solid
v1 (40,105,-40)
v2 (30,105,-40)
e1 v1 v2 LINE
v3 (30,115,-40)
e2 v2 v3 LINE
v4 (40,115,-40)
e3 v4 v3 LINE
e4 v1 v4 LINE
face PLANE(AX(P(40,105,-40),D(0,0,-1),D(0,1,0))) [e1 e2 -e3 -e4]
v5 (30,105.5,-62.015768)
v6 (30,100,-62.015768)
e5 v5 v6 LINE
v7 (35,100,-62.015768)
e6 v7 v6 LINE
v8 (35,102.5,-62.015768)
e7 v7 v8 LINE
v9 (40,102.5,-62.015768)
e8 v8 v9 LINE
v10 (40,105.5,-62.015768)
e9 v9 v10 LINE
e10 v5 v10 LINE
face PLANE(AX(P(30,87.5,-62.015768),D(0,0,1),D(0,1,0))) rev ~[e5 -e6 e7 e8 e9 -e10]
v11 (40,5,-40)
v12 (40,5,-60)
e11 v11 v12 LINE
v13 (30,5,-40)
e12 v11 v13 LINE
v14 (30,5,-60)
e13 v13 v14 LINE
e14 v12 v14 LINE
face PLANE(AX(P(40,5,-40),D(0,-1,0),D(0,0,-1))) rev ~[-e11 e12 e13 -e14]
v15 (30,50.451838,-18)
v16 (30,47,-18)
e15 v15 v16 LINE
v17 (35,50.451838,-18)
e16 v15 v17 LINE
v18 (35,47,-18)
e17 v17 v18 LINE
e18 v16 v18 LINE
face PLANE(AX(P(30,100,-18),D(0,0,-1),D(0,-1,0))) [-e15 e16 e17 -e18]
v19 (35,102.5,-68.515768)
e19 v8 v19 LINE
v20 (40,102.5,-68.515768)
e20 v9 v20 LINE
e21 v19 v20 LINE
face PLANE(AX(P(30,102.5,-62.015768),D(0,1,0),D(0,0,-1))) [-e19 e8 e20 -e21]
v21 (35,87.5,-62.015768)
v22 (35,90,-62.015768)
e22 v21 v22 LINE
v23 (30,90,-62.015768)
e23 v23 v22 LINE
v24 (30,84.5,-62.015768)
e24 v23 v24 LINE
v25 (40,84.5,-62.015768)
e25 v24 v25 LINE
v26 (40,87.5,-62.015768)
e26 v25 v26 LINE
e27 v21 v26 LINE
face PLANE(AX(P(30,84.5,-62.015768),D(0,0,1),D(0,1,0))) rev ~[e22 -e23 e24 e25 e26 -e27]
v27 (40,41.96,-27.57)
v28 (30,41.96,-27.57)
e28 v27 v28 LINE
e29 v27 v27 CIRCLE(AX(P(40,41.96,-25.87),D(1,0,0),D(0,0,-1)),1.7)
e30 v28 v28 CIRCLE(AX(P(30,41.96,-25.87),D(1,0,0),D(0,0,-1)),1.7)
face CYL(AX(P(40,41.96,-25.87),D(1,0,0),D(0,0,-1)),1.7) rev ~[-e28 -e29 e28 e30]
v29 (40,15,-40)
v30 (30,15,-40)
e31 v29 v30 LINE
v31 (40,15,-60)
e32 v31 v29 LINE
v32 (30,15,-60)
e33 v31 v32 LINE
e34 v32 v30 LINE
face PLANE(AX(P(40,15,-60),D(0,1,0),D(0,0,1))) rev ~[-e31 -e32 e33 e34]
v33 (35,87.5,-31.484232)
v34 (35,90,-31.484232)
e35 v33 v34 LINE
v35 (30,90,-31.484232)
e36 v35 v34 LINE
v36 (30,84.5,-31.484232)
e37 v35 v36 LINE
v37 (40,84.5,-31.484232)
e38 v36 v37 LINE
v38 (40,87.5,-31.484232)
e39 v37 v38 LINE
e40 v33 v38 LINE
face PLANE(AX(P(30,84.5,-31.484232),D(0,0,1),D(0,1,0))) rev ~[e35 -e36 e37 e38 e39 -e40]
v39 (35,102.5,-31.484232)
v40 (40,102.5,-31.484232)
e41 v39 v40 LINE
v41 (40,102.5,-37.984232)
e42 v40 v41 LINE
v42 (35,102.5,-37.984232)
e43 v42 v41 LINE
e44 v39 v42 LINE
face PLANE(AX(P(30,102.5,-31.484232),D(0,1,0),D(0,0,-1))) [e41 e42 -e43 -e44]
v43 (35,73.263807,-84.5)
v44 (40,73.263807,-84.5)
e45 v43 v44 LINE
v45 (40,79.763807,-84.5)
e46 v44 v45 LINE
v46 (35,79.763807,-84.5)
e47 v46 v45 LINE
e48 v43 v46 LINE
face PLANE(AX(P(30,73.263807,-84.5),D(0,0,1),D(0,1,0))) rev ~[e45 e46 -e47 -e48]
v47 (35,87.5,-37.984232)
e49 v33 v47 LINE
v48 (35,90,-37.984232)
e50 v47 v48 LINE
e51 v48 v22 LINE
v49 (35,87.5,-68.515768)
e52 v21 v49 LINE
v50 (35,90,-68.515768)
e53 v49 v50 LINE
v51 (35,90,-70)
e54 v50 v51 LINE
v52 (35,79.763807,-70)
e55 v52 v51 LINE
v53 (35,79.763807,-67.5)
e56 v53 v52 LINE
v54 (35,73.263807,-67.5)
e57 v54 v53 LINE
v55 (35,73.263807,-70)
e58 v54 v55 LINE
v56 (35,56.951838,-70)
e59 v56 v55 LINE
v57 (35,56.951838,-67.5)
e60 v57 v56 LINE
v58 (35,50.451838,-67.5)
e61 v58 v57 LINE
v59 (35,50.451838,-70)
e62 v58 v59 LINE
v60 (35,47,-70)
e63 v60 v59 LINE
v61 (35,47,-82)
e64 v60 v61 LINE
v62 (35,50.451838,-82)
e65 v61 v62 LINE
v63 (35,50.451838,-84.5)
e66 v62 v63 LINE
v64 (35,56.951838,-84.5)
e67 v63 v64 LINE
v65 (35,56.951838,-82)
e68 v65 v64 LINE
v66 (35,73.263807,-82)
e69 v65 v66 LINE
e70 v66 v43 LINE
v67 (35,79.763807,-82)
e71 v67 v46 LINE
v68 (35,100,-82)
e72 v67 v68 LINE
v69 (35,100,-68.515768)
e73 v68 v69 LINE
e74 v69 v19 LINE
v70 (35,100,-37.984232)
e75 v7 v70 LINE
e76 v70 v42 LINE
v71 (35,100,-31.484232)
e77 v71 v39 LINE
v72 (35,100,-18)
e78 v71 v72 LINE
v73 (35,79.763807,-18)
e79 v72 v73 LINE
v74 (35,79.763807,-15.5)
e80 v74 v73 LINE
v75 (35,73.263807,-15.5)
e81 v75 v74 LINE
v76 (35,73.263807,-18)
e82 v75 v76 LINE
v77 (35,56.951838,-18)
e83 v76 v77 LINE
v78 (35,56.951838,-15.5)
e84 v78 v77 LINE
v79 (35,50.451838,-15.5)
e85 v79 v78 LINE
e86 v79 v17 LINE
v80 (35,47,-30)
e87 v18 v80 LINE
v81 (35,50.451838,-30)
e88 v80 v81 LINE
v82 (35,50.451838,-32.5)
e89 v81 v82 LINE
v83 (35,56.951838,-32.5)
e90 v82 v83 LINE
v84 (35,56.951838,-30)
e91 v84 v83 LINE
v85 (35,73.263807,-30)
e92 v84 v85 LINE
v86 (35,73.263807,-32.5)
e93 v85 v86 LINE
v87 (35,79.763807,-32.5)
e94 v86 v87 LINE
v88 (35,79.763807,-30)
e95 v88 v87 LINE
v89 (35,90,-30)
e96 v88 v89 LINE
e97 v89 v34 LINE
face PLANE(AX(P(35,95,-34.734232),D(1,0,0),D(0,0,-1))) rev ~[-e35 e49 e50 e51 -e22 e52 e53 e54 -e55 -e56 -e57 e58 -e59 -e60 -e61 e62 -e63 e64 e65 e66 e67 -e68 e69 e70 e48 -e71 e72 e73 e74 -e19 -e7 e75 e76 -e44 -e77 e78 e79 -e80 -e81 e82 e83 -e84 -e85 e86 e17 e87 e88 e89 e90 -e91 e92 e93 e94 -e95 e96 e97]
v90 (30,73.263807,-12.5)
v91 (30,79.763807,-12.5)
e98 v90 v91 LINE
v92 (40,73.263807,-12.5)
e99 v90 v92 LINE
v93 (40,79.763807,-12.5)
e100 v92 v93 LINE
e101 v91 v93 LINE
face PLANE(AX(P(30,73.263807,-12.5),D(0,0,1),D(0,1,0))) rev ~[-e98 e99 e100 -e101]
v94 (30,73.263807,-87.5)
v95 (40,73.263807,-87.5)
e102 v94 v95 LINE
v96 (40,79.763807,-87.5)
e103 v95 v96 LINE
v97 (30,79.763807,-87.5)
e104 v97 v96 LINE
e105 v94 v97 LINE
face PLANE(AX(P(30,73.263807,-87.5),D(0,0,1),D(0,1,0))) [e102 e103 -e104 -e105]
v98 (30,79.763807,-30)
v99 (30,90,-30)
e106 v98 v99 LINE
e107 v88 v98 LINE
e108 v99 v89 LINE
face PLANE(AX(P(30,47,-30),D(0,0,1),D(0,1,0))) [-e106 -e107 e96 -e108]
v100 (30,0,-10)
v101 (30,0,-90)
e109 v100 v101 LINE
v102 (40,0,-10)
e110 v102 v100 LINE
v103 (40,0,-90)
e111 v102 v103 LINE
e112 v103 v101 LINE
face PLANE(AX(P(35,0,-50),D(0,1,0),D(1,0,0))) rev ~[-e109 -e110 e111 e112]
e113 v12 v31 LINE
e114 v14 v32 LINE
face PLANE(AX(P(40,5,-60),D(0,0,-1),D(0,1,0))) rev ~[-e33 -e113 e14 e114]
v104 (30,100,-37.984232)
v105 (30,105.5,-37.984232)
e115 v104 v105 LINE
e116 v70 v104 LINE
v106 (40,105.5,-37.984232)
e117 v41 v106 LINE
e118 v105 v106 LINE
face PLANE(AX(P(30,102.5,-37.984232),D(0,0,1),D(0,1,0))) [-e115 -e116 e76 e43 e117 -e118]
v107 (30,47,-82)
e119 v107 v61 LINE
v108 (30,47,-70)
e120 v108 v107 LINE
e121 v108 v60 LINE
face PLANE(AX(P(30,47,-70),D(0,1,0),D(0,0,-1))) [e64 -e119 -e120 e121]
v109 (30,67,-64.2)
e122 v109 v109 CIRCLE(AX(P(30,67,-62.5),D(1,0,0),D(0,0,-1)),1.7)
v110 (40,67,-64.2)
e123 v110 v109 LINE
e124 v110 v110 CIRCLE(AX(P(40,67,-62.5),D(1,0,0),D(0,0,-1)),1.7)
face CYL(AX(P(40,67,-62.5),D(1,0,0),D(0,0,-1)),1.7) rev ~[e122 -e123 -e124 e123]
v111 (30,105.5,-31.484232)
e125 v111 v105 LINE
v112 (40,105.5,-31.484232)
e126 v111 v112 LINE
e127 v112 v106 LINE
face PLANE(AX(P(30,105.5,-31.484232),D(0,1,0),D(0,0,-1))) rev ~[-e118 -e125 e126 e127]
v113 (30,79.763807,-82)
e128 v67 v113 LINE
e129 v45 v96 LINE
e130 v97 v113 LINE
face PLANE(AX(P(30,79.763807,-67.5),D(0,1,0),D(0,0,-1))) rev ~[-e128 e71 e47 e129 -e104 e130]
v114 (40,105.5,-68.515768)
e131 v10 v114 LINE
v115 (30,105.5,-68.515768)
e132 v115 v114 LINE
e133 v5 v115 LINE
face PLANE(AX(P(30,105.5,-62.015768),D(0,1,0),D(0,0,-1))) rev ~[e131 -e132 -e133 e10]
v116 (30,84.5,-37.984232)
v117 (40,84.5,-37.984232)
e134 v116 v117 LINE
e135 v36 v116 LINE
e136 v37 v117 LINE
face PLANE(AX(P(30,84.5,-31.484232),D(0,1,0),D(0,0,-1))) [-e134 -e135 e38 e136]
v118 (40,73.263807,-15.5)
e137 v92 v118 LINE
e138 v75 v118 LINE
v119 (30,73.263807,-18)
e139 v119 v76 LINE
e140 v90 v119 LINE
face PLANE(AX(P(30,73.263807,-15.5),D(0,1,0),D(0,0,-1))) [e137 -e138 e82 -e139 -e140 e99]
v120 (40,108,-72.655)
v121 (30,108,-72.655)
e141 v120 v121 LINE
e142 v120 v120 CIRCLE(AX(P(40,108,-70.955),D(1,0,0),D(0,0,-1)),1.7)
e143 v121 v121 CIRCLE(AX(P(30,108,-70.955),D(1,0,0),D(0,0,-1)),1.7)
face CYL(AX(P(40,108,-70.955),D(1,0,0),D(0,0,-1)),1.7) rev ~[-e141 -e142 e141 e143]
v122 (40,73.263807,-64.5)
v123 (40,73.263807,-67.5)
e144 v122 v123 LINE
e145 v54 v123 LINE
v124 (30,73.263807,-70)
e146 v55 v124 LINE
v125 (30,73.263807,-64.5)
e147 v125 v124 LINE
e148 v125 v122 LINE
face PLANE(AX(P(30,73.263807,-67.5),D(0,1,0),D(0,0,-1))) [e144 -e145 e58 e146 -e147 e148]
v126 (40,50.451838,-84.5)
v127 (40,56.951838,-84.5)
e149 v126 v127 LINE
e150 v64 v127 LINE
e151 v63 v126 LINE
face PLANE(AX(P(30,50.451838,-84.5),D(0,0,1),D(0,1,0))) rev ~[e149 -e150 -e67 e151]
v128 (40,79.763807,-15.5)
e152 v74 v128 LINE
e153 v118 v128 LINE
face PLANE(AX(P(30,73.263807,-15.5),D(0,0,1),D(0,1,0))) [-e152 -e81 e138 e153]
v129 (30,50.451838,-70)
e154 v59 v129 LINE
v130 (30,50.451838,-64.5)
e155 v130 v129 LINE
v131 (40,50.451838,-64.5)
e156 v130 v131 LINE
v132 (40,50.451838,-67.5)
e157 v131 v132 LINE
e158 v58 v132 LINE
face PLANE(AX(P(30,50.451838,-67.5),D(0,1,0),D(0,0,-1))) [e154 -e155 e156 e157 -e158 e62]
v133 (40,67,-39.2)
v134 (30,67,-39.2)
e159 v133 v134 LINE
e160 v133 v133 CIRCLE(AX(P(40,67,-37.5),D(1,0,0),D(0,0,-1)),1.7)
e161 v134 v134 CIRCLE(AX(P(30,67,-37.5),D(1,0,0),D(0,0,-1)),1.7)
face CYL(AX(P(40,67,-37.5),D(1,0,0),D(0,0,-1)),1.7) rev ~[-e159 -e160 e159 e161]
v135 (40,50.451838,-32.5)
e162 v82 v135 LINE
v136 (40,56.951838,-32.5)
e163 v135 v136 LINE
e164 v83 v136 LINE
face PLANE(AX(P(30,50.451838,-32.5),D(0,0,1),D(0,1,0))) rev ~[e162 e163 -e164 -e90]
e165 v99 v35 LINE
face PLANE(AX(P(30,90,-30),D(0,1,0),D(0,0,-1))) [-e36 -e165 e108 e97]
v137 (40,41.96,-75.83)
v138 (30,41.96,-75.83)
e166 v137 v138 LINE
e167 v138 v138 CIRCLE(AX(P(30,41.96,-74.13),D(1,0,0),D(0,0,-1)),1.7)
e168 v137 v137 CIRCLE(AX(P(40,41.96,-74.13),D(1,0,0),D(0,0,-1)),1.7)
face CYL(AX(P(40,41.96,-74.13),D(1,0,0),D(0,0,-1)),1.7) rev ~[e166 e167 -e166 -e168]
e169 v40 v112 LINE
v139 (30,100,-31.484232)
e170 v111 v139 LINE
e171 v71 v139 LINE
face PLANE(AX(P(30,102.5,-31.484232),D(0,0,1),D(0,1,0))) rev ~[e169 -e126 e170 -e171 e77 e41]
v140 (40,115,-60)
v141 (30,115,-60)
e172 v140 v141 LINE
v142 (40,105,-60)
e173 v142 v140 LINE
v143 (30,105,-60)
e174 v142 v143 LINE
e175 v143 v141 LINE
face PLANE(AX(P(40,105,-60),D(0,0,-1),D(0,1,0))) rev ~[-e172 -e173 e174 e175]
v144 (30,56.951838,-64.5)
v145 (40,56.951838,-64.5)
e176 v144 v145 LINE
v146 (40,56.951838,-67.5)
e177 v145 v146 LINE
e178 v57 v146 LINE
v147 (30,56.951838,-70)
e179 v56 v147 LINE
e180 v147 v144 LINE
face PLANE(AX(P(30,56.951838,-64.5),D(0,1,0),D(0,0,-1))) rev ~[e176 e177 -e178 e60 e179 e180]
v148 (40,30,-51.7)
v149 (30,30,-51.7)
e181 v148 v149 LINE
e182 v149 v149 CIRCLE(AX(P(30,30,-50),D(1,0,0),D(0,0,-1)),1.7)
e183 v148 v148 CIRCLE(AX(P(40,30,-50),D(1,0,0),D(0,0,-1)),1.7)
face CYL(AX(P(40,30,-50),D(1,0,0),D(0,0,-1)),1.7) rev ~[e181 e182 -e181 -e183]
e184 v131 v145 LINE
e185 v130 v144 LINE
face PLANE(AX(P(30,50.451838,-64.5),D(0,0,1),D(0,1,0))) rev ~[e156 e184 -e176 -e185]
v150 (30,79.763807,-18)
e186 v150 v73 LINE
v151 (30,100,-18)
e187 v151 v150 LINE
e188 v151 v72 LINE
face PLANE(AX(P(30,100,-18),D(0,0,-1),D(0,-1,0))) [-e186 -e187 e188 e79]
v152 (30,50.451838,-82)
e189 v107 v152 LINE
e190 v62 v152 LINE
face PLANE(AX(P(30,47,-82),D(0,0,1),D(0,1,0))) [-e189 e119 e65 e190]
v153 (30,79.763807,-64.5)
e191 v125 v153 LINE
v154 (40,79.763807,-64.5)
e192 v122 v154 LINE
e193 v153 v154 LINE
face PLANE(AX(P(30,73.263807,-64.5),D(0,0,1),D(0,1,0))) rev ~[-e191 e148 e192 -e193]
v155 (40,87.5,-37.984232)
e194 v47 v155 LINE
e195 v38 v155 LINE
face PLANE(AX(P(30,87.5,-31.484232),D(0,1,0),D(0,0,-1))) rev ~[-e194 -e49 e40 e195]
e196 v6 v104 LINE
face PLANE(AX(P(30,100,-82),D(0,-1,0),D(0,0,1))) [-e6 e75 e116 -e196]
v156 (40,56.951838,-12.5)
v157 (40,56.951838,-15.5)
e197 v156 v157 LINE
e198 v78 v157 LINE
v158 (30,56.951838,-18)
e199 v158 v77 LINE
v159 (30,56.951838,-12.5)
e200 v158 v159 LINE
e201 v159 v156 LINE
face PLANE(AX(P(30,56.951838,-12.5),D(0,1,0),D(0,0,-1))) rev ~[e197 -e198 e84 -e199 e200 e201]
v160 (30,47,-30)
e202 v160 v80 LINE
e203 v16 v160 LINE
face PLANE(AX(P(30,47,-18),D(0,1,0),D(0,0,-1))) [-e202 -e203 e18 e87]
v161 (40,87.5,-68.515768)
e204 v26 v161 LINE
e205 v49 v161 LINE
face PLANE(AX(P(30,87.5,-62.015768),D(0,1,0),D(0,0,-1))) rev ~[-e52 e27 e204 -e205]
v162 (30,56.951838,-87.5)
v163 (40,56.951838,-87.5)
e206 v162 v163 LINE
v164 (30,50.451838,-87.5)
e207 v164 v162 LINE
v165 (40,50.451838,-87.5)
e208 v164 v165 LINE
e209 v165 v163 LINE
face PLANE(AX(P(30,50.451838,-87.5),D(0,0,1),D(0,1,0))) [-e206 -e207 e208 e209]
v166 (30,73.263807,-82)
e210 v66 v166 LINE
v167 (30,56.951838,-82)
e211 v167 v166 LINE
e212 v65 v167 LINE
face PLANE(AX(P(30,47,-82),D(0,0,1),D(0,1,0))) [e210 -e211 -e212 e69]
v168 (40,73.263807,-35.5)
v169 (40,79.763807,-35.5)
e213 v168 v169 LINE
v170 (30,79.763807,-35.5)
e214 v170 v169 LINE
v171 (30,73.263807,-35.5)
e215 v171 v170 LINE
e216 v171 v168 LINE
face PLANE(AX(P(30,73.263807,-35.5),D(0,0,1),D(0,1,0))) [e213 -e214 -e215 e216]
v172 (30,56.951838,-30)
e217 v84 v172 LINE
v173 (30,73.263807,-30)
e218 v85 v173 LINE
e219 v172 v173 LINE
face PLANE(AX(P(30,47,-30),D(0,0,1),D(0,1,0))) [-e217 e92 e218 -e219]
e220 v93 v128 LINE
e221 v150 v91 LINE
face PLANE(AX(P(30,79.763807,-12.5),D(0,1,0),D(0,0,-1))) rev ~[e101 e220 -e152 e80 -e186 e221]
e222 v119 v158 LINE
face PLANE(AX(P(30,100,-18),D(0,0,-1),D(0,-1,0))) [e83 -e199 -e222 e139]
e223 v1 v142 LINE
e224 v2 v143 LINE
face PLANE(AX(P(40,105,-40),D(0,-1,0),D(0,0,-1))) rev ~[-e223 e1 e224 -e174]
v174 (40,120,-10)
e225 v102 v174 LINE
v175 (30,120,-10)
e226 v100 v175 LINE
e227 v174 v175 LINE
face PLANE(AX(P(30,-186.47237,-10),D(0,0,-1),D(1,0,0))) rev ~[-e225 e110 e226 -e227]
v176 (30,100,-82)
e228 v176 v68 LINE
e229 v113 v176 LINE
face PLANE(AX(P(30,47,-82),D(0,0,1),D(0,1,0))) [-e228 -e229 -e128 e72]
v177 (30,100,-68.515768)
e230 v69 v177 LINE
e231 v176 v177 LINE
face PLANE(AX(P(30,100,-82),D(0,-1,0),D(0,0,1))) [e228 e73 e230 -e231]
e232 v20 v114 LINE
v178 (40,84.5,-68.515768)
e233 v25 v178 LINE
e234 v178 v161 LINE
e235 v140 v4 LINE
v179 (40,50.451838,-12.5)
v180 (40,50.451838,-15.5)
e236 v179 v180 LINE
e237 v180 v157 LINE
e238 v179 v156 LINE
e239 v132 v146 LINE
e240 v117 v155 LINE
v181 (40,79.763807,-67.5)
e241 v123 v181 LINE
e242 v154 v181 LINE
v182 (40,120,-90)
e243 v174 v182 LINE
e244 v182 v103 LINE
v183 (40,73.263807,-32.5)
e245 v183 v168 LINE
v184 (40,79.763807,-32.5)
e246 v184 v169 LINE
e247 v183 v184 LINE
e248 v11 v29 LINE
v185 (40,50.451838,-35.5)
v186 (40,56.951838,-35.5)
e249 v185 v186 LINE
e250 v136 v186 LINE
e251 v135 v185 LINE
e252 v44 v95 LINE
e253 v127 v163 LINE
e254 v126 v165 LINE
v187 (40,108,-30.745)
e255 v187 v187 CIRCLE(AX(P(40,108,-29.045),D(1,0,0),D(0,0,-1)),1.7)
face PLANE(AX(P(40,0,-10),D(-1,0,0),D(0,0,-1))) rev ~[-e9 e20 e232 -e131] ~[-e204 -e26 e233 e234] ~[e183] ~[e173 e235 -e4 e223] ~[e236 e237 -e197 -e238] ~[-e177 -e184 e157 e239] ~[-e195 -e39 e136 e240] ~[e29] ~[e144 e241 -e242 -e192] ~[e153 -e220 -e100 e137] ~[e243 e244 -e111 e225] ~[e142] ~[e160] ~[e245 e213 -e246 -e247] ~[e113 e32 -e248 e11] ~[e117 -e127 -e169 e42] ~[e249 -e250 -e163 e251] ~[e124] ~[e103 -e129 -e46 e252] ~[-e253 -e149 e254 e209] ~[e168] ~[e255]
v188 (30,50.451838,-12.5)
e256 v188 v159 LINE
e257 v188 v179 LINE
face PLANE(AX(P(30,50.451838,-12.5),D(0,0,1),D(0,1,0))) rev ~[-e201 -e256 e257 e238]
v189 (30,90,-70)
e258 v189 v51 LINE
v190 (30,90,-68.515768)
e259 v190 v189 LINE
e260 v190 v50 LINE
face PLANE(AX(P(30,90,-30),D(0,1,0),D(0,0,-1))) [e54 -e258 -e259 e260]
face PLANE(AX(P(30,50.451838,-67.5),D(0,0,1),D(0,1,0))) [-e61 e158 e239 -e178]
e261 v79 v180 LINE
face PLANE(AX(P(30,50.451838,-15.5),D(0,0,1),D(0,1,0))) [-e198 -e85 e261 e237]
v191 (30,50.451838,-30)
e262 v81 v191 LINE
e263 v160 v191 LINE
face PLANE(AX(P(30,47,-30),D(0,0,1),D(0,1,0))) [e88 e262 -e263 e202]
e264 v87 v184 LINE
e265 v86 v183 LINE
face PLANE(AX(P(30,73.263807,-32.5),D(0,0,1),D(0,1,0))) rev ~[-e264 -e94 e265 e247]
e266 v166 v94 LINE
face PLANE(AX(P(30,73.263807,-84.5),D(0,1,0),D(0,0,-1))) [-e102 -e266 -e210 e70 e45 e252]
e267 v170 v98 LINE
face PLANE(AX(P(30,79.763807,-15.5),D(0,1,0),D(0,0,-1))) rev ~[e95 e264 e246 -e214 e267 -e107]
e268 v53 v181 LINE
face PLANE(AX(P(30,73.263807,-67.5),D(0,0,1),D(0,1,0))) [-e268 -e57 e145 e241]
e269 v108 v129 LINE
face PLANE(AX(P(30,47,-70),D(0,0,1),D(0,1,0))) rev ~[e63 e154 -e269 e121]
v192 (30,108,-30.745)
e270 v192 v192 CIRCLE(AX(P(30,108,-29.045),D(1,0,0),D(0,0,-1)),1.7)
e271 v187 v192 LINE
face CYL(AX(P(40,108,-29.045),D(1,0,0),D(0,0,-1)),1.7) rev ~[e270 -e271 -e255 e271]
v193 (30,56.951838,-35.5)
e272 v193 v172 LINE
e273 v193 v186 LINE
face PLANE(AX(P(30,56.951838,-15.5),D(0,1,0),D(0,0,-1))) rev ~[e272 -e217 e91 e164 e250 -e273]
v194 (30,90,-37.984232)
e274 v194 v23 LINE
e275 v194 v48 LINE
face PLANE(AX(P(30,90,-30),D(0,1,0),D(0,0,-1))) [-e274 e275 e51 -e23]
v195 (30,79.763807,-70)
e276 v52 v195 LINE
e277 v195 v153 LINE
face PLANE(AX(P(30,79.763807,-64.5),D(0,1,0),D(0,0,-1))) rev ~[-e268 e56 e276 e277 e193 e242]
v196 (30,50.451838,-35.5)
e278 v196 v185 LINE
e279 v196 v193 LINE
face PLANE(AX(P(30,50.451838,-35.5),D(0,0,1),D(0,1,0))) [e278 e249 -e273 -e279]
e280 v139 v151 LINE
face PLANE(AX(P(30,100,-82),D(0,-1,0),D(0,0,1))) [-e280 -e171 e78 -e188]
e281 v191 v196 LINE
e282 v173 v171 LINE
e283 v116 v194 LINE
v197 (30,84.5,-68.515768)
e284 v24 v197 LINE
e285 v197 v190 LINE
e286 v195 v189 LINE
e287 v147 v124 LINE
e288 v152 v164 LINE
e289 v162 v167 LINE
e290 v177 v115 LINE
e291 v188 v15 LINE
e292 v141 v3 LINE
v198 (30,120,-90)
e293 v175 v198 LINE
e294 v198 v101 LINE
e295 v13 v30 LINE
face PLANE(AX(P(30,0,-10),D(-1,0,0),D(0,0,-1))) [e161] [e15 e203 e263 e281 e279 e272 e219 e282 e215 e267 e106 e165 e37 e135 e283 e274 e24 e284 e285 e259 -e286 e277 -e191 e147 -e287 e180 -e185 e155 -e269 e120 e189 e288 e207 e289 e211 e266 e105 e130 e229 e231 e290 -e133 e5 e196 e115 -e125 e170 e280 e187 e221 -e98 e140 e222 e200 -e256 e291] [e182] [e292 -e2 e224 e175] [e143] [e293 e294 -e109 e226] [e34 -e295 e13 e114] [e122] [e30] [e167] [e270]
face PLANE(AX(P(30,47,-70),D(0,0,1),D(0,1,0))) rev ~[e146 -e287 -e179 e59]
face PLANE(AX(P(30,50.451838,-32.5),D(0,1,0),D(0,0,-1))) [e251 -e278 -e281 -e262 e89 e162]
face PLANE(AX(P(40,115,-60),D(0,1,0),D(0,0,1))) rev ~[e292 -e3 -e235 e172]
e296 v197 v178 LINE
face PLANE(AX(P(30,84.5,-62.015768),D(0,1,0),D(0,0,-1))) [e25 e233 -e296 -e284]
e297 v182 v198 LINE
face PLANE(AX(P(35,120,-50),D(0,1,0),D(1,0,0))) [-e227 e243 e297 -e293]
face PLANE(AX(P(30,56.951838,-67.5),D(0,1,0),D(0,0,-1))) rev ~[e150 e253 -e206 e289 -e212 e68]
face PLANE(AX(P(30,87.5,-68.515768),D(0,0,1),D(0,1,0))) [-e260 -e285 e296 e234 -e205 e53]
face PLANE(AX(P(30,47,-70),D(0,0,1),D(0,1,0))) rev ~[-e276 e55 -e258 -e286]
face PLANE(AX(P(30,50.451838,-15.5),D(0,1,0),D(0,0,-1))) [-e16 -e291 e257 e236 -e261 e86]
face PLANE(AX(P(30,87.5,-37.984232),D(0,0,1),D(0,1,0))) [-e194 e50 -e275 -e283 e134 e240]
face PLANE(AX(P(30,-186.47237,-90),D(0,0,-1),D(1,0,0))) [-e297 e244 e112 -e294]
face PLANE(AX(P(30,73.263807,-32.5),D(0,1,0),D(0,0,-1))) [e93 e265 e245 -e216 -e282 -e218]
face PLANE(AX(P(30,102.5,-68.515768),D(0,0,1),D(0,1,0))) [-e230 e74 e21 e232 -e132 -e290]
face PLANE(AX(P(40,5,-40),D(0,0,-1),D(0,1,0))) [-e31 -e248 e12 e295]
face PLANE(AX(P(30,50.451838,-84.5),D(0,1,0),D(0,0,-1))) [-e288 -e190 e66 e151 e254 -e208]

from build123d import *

# Parameters (mm, degrees)
SKETCH3_W                = 100
SKETCH3_H                = 100
SKETCH3_W_2              = 80
SKETCH3_H_2              = 80
BOSS_EXTRUDE1_DEPTH      = 120
CUT_EXTRUDE6_DEPTH       = 186.47236991
CIRPATTERN1_COUNT        = 2
CIRPATTERN1_ANGLE        = 90
SKETCH19_R               = 13.375
SKETCH19_R_2             = 8.4375
BOSS_EXTRUDE3_DEPTH      = 10
BOSS_EXTRUDE4_START      = -110
SKETCH19_2_R             = 13.375
SKETCH19_2_R_2           = 8.4375
BOSS_EXTRUDE4_DEPTH      = 10
CUT_EXTRUDE4_DEPTH       = 186.47236991
CUT_EXTRUDE4_DEPTH_BACK  = 186.47236991
SKETCH8_R                = 8.4375
CUT_EXTRUDE11_START      = 120
SKETCH21_R               = 1.5
CUT_EXTRUDE11_DEPTH      = 10
CUT_EXTRUDE12_START      = 10
SKETCH21_2_R             = 1.5
CUT_EXTRUDE12_DEPTH      = 10
SKETCH9_W                = 10
SKETCH9_H                = 80
ELECTRONICSPLATE_DEPTH   = 120
CUT_EXTRUDE10_REACH      = 187.472
SKETCH18_W               = 80
SKETCH18_H               = 100
BEAGLEBONEHOLES_START    = 40
SKETCH12_R               = 1.7
BEAGLEBONEHOLES_DEPTH    = 10
RFDHOLES_START           = 40
SKETCH13_R               = 1.7
RFDHOLES_DEPTH           = 10
ANTENNACAVITY_START      = 30
SKETCH35_W               = 12
SKETCH35_H               = 43
ANTENNACAVITY_DEPTH      = 5
ZIPTIEHOLES_START        = 30
SKETCH36_W               = 3
SKETCH36_H               = 6.5
SKETCH36_W_2             = 6.5
SKETCH36_H_2             = 3
ZIPTIEHOLES_DEPTH        = 10
CUT_EXTRUDE16_START      = 30
SKETCH36_3_W             = 17
SKETCH36_3_H             = 6.5
SKETCH36_3_W_2           = 6.5
SKETCH36_3_H_2           = 15
CUT_EXTRUDE16_DEPTH      = 5
WIREHOLES_START          = 40
SKETCH37_W               = 10
SKETCH37_H               = 10
WIREHOLES_DEPTH          = 10
CUT_EXTRUDE17_DEPTH      = 186.47236991
CUT_EXTRUDE17_DEPTH_BACK = 186.47236991
SKETCH39_W               = 30
SKETCH39_H               = 100
SKETCH39_W_2             = 60
SKETCH39_W_3             = 10
SKETCH39_H_2             = 10


with BuildPart() as part:
    # Sketch3 → Boss-Extrude1 (new body)
    with BuildSketch(Plane(origin=(0, 0, 0), x_dir=(1, 0, 0), z_dir=(0, 1, 0))):
        with Locations((50, 50)):
            Rectangle(SKETCH3_W, SKETCH3_H)
        with Locations((50, 50)):
            Rectangle(SKETCH3_W_2, SKETCH3_H_2, mode=Mode.SUBTRACT)
    extrude(amount=BOSS_EXTRUDE1_DEPTH)

    # Sketch6 → Cut-Extrude6 (cut, symmetric)
    with BuildSketch(Plane.XY):
        Polygon((14.84187473, 110), (50, 67.810249676), (85.15812527, 110), align=None)
        Polygon((56.508541397, 60), (90, 100.189750324), (90, 19.810249676), align=None)
        Polygon((14.84187473, 10), (50, 52.189750324), (85.15812527, 10), align=None)
        Polygon((10, 19.810249676), (43.491458603, 60), (10, 100.189750324), align=None)
    cut_extrude6 = extrude(amount=CUT_EXTRUDE6_DEPTH, both=True, mode=Mode.SUBTRACT)

    # CirPattern1: Cut-Extrude6 ×2 about axis
    cirpattern1_axis = Axis((50, 0, -50), (0, 1, 0))
    for i in range(1, CIRPATTERN1_COUNT):
        add(cut_extrude6.rotate(cirpattern1_axis, i * CIRPATTERN1_ANGLE / (CIRPATTERN1_COUNT - 1)), mode=Mode.SUBTRACT)

    # Sketch19 → Boss-Extrude3 (add)
    # profile 1 of 4: a face of its own
    with BuildSketch(Plane(origin=(0, 120, 0), x_dir=(1, 0, 0), z_dir=(0, 1, 0))):
        with Locations((13.375, 86.625)):
            Circle(SKETCH19_R)
        with Locations((13.375, 86.625)):
            Circle(SKETCH19_R_2, mode=Mode.SUBTRACT)
    # profile 2 of 4: a face of its own
    with BuildSketch(Plane(origin=(0, 120, 0), x_dir=(1, 0, 0), z_dir=(0, 1, 0))):
        with Locations((86.625, 86.625)):
            Circle(SKETCH19_R)
        with Locations((86.625, 86.625)):
            Circle(SKETCH19_R_2, mode=Mode.SUBTRACT)
    # profile 3 of 4: a face of its own
    with BuildSketch(Plane(origin=(0, 120, 0), x_dir=(1, 0, 0), z_dir=(0, 1, 0))):
        with Locations((86.625, 13.375)):
            Circle(SKETCH19_R)
        with Locations((86.625, 13.375)):
            Circle(SKETCH19_R_2, mode=Mode.SUBTRACT)
    # profile 4 of 4: a face of its own
    with BuildSketch(Plane(origin=(0, 120, 0), x_dir=(1, 0, 0), z_dir=(0, 1, 0))):
        with Locations((13.375, 13.375)):
            Circle(SKETCH19_R)
        with Locations((13.375, 13.375)):
            Circle(SKETCH19_R_2, mode=Mode.SUBTRACT)
    extrude(amount=-BOSS_EXTRUDE3_DEPTH)

    # Sketch19<2> → Boss-Extrude4 (add)
    # profile 1 of 4: a face of its own
    with BuildSketch(Plane(origin=(0, 120, 0), x_dir=(1, 0, 0), z_dir=(0, 1, 0)).offset(BOSS_EXTRUDE4_START)):
        with Locations((13.375, 86.625)):
            Circle(SKETCH19_2_R)
    # profile 2 of 4: a face of its own
    with BuildSketch(Plane(origin=(0, 120, 0), x_dir=(1, 0, 0), z_dir=(0, 1, 0)).offset(BOSS_EXTRUDE4_START)):
        with Locations((86.625, 86.625)):
            Circle(SKETCH19_2_R)
        with Locations((86.625, 86.625)):
            Circle(SKETCH19_2_R_2, mode=Mode.SUBTRACT)
    # profile 3 of 4: a face of its own
    with BuildSketch(Plane(origin=(0, 120, 0), x_dir=(1, 0, 0), z_dir=(0, 1, 0)).offset(BOSS_EXTRUDE4_START)):
        with Locations((86.625, 13.375)):
            Circle(SKETCH19_2_R)
        with Locations((86.625, 13.375)):
            Circle(SKETCH19_2_R_2, mode=Mode.SUBTRACT)
    # profile 4 of 4: a face of its own
    with BuildSketch(Plane(origin=(0, 120, 0), x_dir=(1, 0, 0), z_dir=(0, 1, 0)).offset(BOSS_EXTRUDE4_START)):
        with Locations((13.375, 13.375)):
            Circle(SKETCH19_2_R)
        with Locations((13.375, 13.375)):
            Circle(SKETCH19_2_R_2, mode=Mode.SUBTRACT)
    extrude(amount=-BOSS_EXTRUDE4_DEPTH)

    # Sketch8 → Cut-Extrude4 (cut, two sides: drawn at the far end of the back side and taken through both)
    with BuildSketch(Plane(origin=(0, 0, 0), x_dir=(1, 0, 0), z_dir=(0, 1, 0)).offset(-CUT_EXTRUDE4_DEPTH_BACK)):
        with Locations(Location((13.375, 86.625, 0), (0, 0, 90))):
            Circle(SKETCH8_R)
        with Locations(Location((86.625, 86.625, 0), (0, 0, 90))):
            Circle(SKETCH8_R)
        with Locations(Location((13.375, 13.375, 0), (0, 0, 90))):
            Circle(SKETCH8_R)
        with Locations(Location((86.625, 13.375, 0), (0, 0, 90))):
            Circle(SKETCH8_R)
    extrude(amount=CUT_EXTRUDE4_DEPTH + CUT_EXTRUDE4_DEPTH_BACK, mode=Mode.SUBTRACT)

    # Sketch21 → Cut-Extrude11 (cut)
    with BuildSketch(Plane(origin=(0, 0, 0), x_dir=(1, 0, 0), z_dir=(0, 1, 0)).offset(CUT_EXTRUDE11_START)):
        with Locations(Location((5, 50, 0), (0, 0, 270))):
            Circle(SKETCH21_R)
        with Locations(Location((50, 95, 0), (0, 0, 270))):
            Circle(SKETCH21_R)
        with Locations(Location((95, 50, 0), (0, 0, 270))):
            Circle(SKETCH21_R)
        with Locations(Location((50, 5, 0), (0, 0, 270))):
            Circle(SKETCH21_R)
    extrude(amount=-CUT_EXTRUDE11_DEPTH, mode=Mode.SUBTRACT)

    # Sketch21<2> → Cut-Extrude12 (cut)
    with BuildSketch(Plane(origin=(0, 0, 0), x_dir=(1, 0, 0), z_dir=(0, 1, 0)).offset(CUT_EXTRUDE12_START)):
        with Locations(Location((5, 50, 0), (0, 0, 270))):
            Circle(SKETCH21_2_R)
        with Locations(Location((50, 95, 0), (0, 0, 270))):
            Circle(SKETCH21_2_R)
        with Locations(Location((95, 50, 0), (0, 0, 270))):
            Circle(SKETCH21_2_R)
        with Locations(Location((50, 5, 0), (0, 0, 270))):
            Circle(SKETCH21_2_R)
    extrude(amount=-CUT_EXTRUDE12_DEPTH, mode=Mode.SUBTRACT)

    # Sketch9 → ElectronicsPlate (add)
    with BuildSketch(Plane(origin=(0, 0, 0), x_dir=(1, 0, 0), z_dir=(0, 1, 0))):
        with Locations((35, 50)):
            Rectangle(SKETCH9_W, SKETCH9_H)
    extrude(amount=ELECTRONICSPLATE_DEPTH)

    # Sketch18 → Cut-Extrude10 (cut, up to next)
    with BuildSketch(Plane.ZY, mode=Mode.PRIVATE) as cut_extrude10_sk1:
        with Locations((-50, 60)):
            Rectangle(SKETCH18_W, SKETCH18_H)
    cut_extrude10_tool1 = extrude(cut_extrude10_sk1.sketch, amount=-CUT_EXTRUDE10_REACH, mode=Mode.PRIVATE) & part.part
    add(cut_extrude10_tool1.solids().sort_by_distance((0, 60, -50))[0], mode=Mode.SUBTRACT)

    # Sketch12 → BeagleboneHoles (cut)
    with BuildSketch(Plane(origin=(0, 0, 0), x_dir=(0, 0, -1), z_dir=(1, 0, 0)).offset(BEAGLEBONEHOLES_START)):
        with Locations((25.87, 41.96)):
            Circle(SKETCH12_R)
        with Locations((74.13, 41.96)):
            Circle(SKETCH12_R)
        with Locations((29.045, 108)):
            Circle(SKETCH12_R)
        with Locations((70.955, 108)):
            Circle(SKETCH12_R)
    extrude(amount=-BEAGLEBONEHOLES_DEPTH, mode=Mode.SUBTRACT)

    # Sketch13 → RFDHoles (cut)
    with BuildSketch(Plane(origin=(0, 0, 0), x_dir=(0, 0, -1), z_dir=(1, 0, 0)).offset(RFDHOLES_START)):
        with Locations((50, 30)):
            Circle(SKETCH13_R)
        with Locations((37.5, 67)):
            Circle(SKETCH13_R)
        with Locations((62.5, 67)):
            Circle(SKETCH13_R)
    extrude(amount=-RFDHOLES_DEPTH, mode=Mode.SUBTRACT)

    # Sketch35 → AntennaCavity (cut)
    with BuildSketch(Plane(origin=(0, 0, 0), x_dir=(0, 0, -1), z_dir=(1, 0, 0)).offset(ANTENNACAVITY_START)):
        with Locations((24, 68.5)):
            Rectangle(SKETCH35_W, SKETCH35_H)
        Polygon((18, 90), (30, 90), (50, 90), (50, 100), (18, 100), align=None)
        Polygon((50, 100), (50, 90), (70, 90), (82, 90), (82, 100), align=None)
        with Locations((76, 68.5)):
            Rectangle(SKETCH35_W, SKETCH35_H)
    extrude(amount=ANTENNACAVITY_DEPTH, mode=Mode.SUBTRACT)

    # Sketch36 → ZiptieHoles (cut)
    with BuildSketch(Plane(origin=(0, 0, 0), x_dir=(0, 0, -1), z_dir=(1, 0, 0)).offset(ZIPTIEHOLES_START)):
        with Locations((34, 53.701837694)):
            Rectangle(SKETCH36_W, SKETCH36_H)
        with Locations((14, 53.701837694)):
            Rectangle(SKETCH36_W, SKETCH36_H)
        with Locations((34, 76.513807116)):
            Rectangle(SKETCH36_W, SKETCH36_H)
        with Locations((14, 76.513807116)):
            Rectangle(SKETCH36_W, SKETCH36_H)
        with Locations((34.734232458, 86)):
            Rectangle(SKETCH36_W_2, SKETCH36_H_2)
        with Locations((34.734232458, 104)):
            Rectangle(SKETCH36_W_2, SKETCH36_H_2)
        with Locations((65.265767542, 104)):
            Rectangle(SKETCH36_W_2, SKETCH36_H_2)
        with Locations((65.265767542, 86)):
            Rectangle(SKETCH36_W_2, SKETCH36_H_2)
        with Locations((66, 76.513807116)):
            Rectangle(SKETCH36_W, SKETCH36_H)
        with Locations((86, 76.513807116)):
            Rectangle(SKETCH36_W, SKETCH36_H)
        with Locations((86, 53.701837694)):
            Rectangle(SKETCH36_W, SKETCH36_H)
        with Locations((66, 53.701837694)):
            Rectangle(SKETCH36_W, SKETCH36_H)
    extrude(amount=ZIPTIEHOLES_DEPTH, mode=Mode.SUBTRACT)

    # Sketch36<3> → Cut-Extrude16 (cut)
    with BuildSketch(Plane(origin=(0, 0, 0), x_dir=(0, 0, -1), z_dir=(1, 0, 0)).offset(CUT_EXTRUDE16_START)):
        with Locations((24, 76.513807116)):
            Rectangle(SKETCH36_3_W, SKETCH36_3_H)
        with Locations((34.734232458, 95)):
            Rectangle(SKETCH36_3_W_2, SKETCH36_3_H_2)
        with Locations((65.265767542, 95)):
            Rectangle(SKETCH36_3_W_2, SKETCH36_3_H_2)
        with Locations((76, 76.513807116)):
            Rectangle(SKETCH36_3_W, SKETCH36_3_H)
        with Locations((76, 53.701837694)):
            Rectangle(SKETCH36_3_W, SKETCH36_3_H)
        with Locations((24, 53.701837694)):
            Rectangle(SKETCH36_3_W, SKETCH36_3_H)
    extrude(amount=CUT_EXTRUDE16_DEPTH, mode=Mode.SUBTRACT)

    # Sketch37 → WireHoles (cut)
    with BuildSketch(Plane(origin=(0, 0, 0), x_dir=(0, 0, -1), z_dir=(1, 0, 0)).offset(WIREHOLES_START)):
        with Locations((45, 10)):
            Rectangle(SKETCH37_W, SKETCH37_H)
        with Locations((55, 10)):
            Rectangle(SKETCH37_W, SKETCH37_H)
        with Locations((55, 110)):
            Rectangle(SKETCH37_W, SKETCH37_H)
        with Locations((45, 110)):
            Rectangle(SKETCH37_W, SKETCH37_H)
    extrude(amount=-WIREHOLES_DEPTH, mode=Mode.SUBTRACT)

    # Sketch39 → Cut-Extrude17 (cut, two sides: drawn at the far end of the back side and taken through both)
    with BuildSketch(Plane(origin=(0, 0, 0), x_dir=(1, 0, 0), z_dir=(0, 1, 0)).offset(-CUT_EXTRUDE17_DEPTH_BACK)):
        with Locations((15, 50)):
            Rectangle(SKETCH39_W, SKETCH39_H)
        with Locations((70, 50)):
            Rectangle(SKETCH39_W_2, SKETCH39_H)
        with Locations((35, 95)):
            Rectangle(SKETCH39_W_3, SKETCH39_H_2)
        with Locations((35, 5)):
            Rectangle(SKETCH39_W_3, SKETCH39_H_2)
    extrude(amount=CUT_EXTRUDE17_DEPTH + CUT_EXTRUDE17_DEPTH_BACK, mode=Mode.SUBTRACT)


solid = part.part
